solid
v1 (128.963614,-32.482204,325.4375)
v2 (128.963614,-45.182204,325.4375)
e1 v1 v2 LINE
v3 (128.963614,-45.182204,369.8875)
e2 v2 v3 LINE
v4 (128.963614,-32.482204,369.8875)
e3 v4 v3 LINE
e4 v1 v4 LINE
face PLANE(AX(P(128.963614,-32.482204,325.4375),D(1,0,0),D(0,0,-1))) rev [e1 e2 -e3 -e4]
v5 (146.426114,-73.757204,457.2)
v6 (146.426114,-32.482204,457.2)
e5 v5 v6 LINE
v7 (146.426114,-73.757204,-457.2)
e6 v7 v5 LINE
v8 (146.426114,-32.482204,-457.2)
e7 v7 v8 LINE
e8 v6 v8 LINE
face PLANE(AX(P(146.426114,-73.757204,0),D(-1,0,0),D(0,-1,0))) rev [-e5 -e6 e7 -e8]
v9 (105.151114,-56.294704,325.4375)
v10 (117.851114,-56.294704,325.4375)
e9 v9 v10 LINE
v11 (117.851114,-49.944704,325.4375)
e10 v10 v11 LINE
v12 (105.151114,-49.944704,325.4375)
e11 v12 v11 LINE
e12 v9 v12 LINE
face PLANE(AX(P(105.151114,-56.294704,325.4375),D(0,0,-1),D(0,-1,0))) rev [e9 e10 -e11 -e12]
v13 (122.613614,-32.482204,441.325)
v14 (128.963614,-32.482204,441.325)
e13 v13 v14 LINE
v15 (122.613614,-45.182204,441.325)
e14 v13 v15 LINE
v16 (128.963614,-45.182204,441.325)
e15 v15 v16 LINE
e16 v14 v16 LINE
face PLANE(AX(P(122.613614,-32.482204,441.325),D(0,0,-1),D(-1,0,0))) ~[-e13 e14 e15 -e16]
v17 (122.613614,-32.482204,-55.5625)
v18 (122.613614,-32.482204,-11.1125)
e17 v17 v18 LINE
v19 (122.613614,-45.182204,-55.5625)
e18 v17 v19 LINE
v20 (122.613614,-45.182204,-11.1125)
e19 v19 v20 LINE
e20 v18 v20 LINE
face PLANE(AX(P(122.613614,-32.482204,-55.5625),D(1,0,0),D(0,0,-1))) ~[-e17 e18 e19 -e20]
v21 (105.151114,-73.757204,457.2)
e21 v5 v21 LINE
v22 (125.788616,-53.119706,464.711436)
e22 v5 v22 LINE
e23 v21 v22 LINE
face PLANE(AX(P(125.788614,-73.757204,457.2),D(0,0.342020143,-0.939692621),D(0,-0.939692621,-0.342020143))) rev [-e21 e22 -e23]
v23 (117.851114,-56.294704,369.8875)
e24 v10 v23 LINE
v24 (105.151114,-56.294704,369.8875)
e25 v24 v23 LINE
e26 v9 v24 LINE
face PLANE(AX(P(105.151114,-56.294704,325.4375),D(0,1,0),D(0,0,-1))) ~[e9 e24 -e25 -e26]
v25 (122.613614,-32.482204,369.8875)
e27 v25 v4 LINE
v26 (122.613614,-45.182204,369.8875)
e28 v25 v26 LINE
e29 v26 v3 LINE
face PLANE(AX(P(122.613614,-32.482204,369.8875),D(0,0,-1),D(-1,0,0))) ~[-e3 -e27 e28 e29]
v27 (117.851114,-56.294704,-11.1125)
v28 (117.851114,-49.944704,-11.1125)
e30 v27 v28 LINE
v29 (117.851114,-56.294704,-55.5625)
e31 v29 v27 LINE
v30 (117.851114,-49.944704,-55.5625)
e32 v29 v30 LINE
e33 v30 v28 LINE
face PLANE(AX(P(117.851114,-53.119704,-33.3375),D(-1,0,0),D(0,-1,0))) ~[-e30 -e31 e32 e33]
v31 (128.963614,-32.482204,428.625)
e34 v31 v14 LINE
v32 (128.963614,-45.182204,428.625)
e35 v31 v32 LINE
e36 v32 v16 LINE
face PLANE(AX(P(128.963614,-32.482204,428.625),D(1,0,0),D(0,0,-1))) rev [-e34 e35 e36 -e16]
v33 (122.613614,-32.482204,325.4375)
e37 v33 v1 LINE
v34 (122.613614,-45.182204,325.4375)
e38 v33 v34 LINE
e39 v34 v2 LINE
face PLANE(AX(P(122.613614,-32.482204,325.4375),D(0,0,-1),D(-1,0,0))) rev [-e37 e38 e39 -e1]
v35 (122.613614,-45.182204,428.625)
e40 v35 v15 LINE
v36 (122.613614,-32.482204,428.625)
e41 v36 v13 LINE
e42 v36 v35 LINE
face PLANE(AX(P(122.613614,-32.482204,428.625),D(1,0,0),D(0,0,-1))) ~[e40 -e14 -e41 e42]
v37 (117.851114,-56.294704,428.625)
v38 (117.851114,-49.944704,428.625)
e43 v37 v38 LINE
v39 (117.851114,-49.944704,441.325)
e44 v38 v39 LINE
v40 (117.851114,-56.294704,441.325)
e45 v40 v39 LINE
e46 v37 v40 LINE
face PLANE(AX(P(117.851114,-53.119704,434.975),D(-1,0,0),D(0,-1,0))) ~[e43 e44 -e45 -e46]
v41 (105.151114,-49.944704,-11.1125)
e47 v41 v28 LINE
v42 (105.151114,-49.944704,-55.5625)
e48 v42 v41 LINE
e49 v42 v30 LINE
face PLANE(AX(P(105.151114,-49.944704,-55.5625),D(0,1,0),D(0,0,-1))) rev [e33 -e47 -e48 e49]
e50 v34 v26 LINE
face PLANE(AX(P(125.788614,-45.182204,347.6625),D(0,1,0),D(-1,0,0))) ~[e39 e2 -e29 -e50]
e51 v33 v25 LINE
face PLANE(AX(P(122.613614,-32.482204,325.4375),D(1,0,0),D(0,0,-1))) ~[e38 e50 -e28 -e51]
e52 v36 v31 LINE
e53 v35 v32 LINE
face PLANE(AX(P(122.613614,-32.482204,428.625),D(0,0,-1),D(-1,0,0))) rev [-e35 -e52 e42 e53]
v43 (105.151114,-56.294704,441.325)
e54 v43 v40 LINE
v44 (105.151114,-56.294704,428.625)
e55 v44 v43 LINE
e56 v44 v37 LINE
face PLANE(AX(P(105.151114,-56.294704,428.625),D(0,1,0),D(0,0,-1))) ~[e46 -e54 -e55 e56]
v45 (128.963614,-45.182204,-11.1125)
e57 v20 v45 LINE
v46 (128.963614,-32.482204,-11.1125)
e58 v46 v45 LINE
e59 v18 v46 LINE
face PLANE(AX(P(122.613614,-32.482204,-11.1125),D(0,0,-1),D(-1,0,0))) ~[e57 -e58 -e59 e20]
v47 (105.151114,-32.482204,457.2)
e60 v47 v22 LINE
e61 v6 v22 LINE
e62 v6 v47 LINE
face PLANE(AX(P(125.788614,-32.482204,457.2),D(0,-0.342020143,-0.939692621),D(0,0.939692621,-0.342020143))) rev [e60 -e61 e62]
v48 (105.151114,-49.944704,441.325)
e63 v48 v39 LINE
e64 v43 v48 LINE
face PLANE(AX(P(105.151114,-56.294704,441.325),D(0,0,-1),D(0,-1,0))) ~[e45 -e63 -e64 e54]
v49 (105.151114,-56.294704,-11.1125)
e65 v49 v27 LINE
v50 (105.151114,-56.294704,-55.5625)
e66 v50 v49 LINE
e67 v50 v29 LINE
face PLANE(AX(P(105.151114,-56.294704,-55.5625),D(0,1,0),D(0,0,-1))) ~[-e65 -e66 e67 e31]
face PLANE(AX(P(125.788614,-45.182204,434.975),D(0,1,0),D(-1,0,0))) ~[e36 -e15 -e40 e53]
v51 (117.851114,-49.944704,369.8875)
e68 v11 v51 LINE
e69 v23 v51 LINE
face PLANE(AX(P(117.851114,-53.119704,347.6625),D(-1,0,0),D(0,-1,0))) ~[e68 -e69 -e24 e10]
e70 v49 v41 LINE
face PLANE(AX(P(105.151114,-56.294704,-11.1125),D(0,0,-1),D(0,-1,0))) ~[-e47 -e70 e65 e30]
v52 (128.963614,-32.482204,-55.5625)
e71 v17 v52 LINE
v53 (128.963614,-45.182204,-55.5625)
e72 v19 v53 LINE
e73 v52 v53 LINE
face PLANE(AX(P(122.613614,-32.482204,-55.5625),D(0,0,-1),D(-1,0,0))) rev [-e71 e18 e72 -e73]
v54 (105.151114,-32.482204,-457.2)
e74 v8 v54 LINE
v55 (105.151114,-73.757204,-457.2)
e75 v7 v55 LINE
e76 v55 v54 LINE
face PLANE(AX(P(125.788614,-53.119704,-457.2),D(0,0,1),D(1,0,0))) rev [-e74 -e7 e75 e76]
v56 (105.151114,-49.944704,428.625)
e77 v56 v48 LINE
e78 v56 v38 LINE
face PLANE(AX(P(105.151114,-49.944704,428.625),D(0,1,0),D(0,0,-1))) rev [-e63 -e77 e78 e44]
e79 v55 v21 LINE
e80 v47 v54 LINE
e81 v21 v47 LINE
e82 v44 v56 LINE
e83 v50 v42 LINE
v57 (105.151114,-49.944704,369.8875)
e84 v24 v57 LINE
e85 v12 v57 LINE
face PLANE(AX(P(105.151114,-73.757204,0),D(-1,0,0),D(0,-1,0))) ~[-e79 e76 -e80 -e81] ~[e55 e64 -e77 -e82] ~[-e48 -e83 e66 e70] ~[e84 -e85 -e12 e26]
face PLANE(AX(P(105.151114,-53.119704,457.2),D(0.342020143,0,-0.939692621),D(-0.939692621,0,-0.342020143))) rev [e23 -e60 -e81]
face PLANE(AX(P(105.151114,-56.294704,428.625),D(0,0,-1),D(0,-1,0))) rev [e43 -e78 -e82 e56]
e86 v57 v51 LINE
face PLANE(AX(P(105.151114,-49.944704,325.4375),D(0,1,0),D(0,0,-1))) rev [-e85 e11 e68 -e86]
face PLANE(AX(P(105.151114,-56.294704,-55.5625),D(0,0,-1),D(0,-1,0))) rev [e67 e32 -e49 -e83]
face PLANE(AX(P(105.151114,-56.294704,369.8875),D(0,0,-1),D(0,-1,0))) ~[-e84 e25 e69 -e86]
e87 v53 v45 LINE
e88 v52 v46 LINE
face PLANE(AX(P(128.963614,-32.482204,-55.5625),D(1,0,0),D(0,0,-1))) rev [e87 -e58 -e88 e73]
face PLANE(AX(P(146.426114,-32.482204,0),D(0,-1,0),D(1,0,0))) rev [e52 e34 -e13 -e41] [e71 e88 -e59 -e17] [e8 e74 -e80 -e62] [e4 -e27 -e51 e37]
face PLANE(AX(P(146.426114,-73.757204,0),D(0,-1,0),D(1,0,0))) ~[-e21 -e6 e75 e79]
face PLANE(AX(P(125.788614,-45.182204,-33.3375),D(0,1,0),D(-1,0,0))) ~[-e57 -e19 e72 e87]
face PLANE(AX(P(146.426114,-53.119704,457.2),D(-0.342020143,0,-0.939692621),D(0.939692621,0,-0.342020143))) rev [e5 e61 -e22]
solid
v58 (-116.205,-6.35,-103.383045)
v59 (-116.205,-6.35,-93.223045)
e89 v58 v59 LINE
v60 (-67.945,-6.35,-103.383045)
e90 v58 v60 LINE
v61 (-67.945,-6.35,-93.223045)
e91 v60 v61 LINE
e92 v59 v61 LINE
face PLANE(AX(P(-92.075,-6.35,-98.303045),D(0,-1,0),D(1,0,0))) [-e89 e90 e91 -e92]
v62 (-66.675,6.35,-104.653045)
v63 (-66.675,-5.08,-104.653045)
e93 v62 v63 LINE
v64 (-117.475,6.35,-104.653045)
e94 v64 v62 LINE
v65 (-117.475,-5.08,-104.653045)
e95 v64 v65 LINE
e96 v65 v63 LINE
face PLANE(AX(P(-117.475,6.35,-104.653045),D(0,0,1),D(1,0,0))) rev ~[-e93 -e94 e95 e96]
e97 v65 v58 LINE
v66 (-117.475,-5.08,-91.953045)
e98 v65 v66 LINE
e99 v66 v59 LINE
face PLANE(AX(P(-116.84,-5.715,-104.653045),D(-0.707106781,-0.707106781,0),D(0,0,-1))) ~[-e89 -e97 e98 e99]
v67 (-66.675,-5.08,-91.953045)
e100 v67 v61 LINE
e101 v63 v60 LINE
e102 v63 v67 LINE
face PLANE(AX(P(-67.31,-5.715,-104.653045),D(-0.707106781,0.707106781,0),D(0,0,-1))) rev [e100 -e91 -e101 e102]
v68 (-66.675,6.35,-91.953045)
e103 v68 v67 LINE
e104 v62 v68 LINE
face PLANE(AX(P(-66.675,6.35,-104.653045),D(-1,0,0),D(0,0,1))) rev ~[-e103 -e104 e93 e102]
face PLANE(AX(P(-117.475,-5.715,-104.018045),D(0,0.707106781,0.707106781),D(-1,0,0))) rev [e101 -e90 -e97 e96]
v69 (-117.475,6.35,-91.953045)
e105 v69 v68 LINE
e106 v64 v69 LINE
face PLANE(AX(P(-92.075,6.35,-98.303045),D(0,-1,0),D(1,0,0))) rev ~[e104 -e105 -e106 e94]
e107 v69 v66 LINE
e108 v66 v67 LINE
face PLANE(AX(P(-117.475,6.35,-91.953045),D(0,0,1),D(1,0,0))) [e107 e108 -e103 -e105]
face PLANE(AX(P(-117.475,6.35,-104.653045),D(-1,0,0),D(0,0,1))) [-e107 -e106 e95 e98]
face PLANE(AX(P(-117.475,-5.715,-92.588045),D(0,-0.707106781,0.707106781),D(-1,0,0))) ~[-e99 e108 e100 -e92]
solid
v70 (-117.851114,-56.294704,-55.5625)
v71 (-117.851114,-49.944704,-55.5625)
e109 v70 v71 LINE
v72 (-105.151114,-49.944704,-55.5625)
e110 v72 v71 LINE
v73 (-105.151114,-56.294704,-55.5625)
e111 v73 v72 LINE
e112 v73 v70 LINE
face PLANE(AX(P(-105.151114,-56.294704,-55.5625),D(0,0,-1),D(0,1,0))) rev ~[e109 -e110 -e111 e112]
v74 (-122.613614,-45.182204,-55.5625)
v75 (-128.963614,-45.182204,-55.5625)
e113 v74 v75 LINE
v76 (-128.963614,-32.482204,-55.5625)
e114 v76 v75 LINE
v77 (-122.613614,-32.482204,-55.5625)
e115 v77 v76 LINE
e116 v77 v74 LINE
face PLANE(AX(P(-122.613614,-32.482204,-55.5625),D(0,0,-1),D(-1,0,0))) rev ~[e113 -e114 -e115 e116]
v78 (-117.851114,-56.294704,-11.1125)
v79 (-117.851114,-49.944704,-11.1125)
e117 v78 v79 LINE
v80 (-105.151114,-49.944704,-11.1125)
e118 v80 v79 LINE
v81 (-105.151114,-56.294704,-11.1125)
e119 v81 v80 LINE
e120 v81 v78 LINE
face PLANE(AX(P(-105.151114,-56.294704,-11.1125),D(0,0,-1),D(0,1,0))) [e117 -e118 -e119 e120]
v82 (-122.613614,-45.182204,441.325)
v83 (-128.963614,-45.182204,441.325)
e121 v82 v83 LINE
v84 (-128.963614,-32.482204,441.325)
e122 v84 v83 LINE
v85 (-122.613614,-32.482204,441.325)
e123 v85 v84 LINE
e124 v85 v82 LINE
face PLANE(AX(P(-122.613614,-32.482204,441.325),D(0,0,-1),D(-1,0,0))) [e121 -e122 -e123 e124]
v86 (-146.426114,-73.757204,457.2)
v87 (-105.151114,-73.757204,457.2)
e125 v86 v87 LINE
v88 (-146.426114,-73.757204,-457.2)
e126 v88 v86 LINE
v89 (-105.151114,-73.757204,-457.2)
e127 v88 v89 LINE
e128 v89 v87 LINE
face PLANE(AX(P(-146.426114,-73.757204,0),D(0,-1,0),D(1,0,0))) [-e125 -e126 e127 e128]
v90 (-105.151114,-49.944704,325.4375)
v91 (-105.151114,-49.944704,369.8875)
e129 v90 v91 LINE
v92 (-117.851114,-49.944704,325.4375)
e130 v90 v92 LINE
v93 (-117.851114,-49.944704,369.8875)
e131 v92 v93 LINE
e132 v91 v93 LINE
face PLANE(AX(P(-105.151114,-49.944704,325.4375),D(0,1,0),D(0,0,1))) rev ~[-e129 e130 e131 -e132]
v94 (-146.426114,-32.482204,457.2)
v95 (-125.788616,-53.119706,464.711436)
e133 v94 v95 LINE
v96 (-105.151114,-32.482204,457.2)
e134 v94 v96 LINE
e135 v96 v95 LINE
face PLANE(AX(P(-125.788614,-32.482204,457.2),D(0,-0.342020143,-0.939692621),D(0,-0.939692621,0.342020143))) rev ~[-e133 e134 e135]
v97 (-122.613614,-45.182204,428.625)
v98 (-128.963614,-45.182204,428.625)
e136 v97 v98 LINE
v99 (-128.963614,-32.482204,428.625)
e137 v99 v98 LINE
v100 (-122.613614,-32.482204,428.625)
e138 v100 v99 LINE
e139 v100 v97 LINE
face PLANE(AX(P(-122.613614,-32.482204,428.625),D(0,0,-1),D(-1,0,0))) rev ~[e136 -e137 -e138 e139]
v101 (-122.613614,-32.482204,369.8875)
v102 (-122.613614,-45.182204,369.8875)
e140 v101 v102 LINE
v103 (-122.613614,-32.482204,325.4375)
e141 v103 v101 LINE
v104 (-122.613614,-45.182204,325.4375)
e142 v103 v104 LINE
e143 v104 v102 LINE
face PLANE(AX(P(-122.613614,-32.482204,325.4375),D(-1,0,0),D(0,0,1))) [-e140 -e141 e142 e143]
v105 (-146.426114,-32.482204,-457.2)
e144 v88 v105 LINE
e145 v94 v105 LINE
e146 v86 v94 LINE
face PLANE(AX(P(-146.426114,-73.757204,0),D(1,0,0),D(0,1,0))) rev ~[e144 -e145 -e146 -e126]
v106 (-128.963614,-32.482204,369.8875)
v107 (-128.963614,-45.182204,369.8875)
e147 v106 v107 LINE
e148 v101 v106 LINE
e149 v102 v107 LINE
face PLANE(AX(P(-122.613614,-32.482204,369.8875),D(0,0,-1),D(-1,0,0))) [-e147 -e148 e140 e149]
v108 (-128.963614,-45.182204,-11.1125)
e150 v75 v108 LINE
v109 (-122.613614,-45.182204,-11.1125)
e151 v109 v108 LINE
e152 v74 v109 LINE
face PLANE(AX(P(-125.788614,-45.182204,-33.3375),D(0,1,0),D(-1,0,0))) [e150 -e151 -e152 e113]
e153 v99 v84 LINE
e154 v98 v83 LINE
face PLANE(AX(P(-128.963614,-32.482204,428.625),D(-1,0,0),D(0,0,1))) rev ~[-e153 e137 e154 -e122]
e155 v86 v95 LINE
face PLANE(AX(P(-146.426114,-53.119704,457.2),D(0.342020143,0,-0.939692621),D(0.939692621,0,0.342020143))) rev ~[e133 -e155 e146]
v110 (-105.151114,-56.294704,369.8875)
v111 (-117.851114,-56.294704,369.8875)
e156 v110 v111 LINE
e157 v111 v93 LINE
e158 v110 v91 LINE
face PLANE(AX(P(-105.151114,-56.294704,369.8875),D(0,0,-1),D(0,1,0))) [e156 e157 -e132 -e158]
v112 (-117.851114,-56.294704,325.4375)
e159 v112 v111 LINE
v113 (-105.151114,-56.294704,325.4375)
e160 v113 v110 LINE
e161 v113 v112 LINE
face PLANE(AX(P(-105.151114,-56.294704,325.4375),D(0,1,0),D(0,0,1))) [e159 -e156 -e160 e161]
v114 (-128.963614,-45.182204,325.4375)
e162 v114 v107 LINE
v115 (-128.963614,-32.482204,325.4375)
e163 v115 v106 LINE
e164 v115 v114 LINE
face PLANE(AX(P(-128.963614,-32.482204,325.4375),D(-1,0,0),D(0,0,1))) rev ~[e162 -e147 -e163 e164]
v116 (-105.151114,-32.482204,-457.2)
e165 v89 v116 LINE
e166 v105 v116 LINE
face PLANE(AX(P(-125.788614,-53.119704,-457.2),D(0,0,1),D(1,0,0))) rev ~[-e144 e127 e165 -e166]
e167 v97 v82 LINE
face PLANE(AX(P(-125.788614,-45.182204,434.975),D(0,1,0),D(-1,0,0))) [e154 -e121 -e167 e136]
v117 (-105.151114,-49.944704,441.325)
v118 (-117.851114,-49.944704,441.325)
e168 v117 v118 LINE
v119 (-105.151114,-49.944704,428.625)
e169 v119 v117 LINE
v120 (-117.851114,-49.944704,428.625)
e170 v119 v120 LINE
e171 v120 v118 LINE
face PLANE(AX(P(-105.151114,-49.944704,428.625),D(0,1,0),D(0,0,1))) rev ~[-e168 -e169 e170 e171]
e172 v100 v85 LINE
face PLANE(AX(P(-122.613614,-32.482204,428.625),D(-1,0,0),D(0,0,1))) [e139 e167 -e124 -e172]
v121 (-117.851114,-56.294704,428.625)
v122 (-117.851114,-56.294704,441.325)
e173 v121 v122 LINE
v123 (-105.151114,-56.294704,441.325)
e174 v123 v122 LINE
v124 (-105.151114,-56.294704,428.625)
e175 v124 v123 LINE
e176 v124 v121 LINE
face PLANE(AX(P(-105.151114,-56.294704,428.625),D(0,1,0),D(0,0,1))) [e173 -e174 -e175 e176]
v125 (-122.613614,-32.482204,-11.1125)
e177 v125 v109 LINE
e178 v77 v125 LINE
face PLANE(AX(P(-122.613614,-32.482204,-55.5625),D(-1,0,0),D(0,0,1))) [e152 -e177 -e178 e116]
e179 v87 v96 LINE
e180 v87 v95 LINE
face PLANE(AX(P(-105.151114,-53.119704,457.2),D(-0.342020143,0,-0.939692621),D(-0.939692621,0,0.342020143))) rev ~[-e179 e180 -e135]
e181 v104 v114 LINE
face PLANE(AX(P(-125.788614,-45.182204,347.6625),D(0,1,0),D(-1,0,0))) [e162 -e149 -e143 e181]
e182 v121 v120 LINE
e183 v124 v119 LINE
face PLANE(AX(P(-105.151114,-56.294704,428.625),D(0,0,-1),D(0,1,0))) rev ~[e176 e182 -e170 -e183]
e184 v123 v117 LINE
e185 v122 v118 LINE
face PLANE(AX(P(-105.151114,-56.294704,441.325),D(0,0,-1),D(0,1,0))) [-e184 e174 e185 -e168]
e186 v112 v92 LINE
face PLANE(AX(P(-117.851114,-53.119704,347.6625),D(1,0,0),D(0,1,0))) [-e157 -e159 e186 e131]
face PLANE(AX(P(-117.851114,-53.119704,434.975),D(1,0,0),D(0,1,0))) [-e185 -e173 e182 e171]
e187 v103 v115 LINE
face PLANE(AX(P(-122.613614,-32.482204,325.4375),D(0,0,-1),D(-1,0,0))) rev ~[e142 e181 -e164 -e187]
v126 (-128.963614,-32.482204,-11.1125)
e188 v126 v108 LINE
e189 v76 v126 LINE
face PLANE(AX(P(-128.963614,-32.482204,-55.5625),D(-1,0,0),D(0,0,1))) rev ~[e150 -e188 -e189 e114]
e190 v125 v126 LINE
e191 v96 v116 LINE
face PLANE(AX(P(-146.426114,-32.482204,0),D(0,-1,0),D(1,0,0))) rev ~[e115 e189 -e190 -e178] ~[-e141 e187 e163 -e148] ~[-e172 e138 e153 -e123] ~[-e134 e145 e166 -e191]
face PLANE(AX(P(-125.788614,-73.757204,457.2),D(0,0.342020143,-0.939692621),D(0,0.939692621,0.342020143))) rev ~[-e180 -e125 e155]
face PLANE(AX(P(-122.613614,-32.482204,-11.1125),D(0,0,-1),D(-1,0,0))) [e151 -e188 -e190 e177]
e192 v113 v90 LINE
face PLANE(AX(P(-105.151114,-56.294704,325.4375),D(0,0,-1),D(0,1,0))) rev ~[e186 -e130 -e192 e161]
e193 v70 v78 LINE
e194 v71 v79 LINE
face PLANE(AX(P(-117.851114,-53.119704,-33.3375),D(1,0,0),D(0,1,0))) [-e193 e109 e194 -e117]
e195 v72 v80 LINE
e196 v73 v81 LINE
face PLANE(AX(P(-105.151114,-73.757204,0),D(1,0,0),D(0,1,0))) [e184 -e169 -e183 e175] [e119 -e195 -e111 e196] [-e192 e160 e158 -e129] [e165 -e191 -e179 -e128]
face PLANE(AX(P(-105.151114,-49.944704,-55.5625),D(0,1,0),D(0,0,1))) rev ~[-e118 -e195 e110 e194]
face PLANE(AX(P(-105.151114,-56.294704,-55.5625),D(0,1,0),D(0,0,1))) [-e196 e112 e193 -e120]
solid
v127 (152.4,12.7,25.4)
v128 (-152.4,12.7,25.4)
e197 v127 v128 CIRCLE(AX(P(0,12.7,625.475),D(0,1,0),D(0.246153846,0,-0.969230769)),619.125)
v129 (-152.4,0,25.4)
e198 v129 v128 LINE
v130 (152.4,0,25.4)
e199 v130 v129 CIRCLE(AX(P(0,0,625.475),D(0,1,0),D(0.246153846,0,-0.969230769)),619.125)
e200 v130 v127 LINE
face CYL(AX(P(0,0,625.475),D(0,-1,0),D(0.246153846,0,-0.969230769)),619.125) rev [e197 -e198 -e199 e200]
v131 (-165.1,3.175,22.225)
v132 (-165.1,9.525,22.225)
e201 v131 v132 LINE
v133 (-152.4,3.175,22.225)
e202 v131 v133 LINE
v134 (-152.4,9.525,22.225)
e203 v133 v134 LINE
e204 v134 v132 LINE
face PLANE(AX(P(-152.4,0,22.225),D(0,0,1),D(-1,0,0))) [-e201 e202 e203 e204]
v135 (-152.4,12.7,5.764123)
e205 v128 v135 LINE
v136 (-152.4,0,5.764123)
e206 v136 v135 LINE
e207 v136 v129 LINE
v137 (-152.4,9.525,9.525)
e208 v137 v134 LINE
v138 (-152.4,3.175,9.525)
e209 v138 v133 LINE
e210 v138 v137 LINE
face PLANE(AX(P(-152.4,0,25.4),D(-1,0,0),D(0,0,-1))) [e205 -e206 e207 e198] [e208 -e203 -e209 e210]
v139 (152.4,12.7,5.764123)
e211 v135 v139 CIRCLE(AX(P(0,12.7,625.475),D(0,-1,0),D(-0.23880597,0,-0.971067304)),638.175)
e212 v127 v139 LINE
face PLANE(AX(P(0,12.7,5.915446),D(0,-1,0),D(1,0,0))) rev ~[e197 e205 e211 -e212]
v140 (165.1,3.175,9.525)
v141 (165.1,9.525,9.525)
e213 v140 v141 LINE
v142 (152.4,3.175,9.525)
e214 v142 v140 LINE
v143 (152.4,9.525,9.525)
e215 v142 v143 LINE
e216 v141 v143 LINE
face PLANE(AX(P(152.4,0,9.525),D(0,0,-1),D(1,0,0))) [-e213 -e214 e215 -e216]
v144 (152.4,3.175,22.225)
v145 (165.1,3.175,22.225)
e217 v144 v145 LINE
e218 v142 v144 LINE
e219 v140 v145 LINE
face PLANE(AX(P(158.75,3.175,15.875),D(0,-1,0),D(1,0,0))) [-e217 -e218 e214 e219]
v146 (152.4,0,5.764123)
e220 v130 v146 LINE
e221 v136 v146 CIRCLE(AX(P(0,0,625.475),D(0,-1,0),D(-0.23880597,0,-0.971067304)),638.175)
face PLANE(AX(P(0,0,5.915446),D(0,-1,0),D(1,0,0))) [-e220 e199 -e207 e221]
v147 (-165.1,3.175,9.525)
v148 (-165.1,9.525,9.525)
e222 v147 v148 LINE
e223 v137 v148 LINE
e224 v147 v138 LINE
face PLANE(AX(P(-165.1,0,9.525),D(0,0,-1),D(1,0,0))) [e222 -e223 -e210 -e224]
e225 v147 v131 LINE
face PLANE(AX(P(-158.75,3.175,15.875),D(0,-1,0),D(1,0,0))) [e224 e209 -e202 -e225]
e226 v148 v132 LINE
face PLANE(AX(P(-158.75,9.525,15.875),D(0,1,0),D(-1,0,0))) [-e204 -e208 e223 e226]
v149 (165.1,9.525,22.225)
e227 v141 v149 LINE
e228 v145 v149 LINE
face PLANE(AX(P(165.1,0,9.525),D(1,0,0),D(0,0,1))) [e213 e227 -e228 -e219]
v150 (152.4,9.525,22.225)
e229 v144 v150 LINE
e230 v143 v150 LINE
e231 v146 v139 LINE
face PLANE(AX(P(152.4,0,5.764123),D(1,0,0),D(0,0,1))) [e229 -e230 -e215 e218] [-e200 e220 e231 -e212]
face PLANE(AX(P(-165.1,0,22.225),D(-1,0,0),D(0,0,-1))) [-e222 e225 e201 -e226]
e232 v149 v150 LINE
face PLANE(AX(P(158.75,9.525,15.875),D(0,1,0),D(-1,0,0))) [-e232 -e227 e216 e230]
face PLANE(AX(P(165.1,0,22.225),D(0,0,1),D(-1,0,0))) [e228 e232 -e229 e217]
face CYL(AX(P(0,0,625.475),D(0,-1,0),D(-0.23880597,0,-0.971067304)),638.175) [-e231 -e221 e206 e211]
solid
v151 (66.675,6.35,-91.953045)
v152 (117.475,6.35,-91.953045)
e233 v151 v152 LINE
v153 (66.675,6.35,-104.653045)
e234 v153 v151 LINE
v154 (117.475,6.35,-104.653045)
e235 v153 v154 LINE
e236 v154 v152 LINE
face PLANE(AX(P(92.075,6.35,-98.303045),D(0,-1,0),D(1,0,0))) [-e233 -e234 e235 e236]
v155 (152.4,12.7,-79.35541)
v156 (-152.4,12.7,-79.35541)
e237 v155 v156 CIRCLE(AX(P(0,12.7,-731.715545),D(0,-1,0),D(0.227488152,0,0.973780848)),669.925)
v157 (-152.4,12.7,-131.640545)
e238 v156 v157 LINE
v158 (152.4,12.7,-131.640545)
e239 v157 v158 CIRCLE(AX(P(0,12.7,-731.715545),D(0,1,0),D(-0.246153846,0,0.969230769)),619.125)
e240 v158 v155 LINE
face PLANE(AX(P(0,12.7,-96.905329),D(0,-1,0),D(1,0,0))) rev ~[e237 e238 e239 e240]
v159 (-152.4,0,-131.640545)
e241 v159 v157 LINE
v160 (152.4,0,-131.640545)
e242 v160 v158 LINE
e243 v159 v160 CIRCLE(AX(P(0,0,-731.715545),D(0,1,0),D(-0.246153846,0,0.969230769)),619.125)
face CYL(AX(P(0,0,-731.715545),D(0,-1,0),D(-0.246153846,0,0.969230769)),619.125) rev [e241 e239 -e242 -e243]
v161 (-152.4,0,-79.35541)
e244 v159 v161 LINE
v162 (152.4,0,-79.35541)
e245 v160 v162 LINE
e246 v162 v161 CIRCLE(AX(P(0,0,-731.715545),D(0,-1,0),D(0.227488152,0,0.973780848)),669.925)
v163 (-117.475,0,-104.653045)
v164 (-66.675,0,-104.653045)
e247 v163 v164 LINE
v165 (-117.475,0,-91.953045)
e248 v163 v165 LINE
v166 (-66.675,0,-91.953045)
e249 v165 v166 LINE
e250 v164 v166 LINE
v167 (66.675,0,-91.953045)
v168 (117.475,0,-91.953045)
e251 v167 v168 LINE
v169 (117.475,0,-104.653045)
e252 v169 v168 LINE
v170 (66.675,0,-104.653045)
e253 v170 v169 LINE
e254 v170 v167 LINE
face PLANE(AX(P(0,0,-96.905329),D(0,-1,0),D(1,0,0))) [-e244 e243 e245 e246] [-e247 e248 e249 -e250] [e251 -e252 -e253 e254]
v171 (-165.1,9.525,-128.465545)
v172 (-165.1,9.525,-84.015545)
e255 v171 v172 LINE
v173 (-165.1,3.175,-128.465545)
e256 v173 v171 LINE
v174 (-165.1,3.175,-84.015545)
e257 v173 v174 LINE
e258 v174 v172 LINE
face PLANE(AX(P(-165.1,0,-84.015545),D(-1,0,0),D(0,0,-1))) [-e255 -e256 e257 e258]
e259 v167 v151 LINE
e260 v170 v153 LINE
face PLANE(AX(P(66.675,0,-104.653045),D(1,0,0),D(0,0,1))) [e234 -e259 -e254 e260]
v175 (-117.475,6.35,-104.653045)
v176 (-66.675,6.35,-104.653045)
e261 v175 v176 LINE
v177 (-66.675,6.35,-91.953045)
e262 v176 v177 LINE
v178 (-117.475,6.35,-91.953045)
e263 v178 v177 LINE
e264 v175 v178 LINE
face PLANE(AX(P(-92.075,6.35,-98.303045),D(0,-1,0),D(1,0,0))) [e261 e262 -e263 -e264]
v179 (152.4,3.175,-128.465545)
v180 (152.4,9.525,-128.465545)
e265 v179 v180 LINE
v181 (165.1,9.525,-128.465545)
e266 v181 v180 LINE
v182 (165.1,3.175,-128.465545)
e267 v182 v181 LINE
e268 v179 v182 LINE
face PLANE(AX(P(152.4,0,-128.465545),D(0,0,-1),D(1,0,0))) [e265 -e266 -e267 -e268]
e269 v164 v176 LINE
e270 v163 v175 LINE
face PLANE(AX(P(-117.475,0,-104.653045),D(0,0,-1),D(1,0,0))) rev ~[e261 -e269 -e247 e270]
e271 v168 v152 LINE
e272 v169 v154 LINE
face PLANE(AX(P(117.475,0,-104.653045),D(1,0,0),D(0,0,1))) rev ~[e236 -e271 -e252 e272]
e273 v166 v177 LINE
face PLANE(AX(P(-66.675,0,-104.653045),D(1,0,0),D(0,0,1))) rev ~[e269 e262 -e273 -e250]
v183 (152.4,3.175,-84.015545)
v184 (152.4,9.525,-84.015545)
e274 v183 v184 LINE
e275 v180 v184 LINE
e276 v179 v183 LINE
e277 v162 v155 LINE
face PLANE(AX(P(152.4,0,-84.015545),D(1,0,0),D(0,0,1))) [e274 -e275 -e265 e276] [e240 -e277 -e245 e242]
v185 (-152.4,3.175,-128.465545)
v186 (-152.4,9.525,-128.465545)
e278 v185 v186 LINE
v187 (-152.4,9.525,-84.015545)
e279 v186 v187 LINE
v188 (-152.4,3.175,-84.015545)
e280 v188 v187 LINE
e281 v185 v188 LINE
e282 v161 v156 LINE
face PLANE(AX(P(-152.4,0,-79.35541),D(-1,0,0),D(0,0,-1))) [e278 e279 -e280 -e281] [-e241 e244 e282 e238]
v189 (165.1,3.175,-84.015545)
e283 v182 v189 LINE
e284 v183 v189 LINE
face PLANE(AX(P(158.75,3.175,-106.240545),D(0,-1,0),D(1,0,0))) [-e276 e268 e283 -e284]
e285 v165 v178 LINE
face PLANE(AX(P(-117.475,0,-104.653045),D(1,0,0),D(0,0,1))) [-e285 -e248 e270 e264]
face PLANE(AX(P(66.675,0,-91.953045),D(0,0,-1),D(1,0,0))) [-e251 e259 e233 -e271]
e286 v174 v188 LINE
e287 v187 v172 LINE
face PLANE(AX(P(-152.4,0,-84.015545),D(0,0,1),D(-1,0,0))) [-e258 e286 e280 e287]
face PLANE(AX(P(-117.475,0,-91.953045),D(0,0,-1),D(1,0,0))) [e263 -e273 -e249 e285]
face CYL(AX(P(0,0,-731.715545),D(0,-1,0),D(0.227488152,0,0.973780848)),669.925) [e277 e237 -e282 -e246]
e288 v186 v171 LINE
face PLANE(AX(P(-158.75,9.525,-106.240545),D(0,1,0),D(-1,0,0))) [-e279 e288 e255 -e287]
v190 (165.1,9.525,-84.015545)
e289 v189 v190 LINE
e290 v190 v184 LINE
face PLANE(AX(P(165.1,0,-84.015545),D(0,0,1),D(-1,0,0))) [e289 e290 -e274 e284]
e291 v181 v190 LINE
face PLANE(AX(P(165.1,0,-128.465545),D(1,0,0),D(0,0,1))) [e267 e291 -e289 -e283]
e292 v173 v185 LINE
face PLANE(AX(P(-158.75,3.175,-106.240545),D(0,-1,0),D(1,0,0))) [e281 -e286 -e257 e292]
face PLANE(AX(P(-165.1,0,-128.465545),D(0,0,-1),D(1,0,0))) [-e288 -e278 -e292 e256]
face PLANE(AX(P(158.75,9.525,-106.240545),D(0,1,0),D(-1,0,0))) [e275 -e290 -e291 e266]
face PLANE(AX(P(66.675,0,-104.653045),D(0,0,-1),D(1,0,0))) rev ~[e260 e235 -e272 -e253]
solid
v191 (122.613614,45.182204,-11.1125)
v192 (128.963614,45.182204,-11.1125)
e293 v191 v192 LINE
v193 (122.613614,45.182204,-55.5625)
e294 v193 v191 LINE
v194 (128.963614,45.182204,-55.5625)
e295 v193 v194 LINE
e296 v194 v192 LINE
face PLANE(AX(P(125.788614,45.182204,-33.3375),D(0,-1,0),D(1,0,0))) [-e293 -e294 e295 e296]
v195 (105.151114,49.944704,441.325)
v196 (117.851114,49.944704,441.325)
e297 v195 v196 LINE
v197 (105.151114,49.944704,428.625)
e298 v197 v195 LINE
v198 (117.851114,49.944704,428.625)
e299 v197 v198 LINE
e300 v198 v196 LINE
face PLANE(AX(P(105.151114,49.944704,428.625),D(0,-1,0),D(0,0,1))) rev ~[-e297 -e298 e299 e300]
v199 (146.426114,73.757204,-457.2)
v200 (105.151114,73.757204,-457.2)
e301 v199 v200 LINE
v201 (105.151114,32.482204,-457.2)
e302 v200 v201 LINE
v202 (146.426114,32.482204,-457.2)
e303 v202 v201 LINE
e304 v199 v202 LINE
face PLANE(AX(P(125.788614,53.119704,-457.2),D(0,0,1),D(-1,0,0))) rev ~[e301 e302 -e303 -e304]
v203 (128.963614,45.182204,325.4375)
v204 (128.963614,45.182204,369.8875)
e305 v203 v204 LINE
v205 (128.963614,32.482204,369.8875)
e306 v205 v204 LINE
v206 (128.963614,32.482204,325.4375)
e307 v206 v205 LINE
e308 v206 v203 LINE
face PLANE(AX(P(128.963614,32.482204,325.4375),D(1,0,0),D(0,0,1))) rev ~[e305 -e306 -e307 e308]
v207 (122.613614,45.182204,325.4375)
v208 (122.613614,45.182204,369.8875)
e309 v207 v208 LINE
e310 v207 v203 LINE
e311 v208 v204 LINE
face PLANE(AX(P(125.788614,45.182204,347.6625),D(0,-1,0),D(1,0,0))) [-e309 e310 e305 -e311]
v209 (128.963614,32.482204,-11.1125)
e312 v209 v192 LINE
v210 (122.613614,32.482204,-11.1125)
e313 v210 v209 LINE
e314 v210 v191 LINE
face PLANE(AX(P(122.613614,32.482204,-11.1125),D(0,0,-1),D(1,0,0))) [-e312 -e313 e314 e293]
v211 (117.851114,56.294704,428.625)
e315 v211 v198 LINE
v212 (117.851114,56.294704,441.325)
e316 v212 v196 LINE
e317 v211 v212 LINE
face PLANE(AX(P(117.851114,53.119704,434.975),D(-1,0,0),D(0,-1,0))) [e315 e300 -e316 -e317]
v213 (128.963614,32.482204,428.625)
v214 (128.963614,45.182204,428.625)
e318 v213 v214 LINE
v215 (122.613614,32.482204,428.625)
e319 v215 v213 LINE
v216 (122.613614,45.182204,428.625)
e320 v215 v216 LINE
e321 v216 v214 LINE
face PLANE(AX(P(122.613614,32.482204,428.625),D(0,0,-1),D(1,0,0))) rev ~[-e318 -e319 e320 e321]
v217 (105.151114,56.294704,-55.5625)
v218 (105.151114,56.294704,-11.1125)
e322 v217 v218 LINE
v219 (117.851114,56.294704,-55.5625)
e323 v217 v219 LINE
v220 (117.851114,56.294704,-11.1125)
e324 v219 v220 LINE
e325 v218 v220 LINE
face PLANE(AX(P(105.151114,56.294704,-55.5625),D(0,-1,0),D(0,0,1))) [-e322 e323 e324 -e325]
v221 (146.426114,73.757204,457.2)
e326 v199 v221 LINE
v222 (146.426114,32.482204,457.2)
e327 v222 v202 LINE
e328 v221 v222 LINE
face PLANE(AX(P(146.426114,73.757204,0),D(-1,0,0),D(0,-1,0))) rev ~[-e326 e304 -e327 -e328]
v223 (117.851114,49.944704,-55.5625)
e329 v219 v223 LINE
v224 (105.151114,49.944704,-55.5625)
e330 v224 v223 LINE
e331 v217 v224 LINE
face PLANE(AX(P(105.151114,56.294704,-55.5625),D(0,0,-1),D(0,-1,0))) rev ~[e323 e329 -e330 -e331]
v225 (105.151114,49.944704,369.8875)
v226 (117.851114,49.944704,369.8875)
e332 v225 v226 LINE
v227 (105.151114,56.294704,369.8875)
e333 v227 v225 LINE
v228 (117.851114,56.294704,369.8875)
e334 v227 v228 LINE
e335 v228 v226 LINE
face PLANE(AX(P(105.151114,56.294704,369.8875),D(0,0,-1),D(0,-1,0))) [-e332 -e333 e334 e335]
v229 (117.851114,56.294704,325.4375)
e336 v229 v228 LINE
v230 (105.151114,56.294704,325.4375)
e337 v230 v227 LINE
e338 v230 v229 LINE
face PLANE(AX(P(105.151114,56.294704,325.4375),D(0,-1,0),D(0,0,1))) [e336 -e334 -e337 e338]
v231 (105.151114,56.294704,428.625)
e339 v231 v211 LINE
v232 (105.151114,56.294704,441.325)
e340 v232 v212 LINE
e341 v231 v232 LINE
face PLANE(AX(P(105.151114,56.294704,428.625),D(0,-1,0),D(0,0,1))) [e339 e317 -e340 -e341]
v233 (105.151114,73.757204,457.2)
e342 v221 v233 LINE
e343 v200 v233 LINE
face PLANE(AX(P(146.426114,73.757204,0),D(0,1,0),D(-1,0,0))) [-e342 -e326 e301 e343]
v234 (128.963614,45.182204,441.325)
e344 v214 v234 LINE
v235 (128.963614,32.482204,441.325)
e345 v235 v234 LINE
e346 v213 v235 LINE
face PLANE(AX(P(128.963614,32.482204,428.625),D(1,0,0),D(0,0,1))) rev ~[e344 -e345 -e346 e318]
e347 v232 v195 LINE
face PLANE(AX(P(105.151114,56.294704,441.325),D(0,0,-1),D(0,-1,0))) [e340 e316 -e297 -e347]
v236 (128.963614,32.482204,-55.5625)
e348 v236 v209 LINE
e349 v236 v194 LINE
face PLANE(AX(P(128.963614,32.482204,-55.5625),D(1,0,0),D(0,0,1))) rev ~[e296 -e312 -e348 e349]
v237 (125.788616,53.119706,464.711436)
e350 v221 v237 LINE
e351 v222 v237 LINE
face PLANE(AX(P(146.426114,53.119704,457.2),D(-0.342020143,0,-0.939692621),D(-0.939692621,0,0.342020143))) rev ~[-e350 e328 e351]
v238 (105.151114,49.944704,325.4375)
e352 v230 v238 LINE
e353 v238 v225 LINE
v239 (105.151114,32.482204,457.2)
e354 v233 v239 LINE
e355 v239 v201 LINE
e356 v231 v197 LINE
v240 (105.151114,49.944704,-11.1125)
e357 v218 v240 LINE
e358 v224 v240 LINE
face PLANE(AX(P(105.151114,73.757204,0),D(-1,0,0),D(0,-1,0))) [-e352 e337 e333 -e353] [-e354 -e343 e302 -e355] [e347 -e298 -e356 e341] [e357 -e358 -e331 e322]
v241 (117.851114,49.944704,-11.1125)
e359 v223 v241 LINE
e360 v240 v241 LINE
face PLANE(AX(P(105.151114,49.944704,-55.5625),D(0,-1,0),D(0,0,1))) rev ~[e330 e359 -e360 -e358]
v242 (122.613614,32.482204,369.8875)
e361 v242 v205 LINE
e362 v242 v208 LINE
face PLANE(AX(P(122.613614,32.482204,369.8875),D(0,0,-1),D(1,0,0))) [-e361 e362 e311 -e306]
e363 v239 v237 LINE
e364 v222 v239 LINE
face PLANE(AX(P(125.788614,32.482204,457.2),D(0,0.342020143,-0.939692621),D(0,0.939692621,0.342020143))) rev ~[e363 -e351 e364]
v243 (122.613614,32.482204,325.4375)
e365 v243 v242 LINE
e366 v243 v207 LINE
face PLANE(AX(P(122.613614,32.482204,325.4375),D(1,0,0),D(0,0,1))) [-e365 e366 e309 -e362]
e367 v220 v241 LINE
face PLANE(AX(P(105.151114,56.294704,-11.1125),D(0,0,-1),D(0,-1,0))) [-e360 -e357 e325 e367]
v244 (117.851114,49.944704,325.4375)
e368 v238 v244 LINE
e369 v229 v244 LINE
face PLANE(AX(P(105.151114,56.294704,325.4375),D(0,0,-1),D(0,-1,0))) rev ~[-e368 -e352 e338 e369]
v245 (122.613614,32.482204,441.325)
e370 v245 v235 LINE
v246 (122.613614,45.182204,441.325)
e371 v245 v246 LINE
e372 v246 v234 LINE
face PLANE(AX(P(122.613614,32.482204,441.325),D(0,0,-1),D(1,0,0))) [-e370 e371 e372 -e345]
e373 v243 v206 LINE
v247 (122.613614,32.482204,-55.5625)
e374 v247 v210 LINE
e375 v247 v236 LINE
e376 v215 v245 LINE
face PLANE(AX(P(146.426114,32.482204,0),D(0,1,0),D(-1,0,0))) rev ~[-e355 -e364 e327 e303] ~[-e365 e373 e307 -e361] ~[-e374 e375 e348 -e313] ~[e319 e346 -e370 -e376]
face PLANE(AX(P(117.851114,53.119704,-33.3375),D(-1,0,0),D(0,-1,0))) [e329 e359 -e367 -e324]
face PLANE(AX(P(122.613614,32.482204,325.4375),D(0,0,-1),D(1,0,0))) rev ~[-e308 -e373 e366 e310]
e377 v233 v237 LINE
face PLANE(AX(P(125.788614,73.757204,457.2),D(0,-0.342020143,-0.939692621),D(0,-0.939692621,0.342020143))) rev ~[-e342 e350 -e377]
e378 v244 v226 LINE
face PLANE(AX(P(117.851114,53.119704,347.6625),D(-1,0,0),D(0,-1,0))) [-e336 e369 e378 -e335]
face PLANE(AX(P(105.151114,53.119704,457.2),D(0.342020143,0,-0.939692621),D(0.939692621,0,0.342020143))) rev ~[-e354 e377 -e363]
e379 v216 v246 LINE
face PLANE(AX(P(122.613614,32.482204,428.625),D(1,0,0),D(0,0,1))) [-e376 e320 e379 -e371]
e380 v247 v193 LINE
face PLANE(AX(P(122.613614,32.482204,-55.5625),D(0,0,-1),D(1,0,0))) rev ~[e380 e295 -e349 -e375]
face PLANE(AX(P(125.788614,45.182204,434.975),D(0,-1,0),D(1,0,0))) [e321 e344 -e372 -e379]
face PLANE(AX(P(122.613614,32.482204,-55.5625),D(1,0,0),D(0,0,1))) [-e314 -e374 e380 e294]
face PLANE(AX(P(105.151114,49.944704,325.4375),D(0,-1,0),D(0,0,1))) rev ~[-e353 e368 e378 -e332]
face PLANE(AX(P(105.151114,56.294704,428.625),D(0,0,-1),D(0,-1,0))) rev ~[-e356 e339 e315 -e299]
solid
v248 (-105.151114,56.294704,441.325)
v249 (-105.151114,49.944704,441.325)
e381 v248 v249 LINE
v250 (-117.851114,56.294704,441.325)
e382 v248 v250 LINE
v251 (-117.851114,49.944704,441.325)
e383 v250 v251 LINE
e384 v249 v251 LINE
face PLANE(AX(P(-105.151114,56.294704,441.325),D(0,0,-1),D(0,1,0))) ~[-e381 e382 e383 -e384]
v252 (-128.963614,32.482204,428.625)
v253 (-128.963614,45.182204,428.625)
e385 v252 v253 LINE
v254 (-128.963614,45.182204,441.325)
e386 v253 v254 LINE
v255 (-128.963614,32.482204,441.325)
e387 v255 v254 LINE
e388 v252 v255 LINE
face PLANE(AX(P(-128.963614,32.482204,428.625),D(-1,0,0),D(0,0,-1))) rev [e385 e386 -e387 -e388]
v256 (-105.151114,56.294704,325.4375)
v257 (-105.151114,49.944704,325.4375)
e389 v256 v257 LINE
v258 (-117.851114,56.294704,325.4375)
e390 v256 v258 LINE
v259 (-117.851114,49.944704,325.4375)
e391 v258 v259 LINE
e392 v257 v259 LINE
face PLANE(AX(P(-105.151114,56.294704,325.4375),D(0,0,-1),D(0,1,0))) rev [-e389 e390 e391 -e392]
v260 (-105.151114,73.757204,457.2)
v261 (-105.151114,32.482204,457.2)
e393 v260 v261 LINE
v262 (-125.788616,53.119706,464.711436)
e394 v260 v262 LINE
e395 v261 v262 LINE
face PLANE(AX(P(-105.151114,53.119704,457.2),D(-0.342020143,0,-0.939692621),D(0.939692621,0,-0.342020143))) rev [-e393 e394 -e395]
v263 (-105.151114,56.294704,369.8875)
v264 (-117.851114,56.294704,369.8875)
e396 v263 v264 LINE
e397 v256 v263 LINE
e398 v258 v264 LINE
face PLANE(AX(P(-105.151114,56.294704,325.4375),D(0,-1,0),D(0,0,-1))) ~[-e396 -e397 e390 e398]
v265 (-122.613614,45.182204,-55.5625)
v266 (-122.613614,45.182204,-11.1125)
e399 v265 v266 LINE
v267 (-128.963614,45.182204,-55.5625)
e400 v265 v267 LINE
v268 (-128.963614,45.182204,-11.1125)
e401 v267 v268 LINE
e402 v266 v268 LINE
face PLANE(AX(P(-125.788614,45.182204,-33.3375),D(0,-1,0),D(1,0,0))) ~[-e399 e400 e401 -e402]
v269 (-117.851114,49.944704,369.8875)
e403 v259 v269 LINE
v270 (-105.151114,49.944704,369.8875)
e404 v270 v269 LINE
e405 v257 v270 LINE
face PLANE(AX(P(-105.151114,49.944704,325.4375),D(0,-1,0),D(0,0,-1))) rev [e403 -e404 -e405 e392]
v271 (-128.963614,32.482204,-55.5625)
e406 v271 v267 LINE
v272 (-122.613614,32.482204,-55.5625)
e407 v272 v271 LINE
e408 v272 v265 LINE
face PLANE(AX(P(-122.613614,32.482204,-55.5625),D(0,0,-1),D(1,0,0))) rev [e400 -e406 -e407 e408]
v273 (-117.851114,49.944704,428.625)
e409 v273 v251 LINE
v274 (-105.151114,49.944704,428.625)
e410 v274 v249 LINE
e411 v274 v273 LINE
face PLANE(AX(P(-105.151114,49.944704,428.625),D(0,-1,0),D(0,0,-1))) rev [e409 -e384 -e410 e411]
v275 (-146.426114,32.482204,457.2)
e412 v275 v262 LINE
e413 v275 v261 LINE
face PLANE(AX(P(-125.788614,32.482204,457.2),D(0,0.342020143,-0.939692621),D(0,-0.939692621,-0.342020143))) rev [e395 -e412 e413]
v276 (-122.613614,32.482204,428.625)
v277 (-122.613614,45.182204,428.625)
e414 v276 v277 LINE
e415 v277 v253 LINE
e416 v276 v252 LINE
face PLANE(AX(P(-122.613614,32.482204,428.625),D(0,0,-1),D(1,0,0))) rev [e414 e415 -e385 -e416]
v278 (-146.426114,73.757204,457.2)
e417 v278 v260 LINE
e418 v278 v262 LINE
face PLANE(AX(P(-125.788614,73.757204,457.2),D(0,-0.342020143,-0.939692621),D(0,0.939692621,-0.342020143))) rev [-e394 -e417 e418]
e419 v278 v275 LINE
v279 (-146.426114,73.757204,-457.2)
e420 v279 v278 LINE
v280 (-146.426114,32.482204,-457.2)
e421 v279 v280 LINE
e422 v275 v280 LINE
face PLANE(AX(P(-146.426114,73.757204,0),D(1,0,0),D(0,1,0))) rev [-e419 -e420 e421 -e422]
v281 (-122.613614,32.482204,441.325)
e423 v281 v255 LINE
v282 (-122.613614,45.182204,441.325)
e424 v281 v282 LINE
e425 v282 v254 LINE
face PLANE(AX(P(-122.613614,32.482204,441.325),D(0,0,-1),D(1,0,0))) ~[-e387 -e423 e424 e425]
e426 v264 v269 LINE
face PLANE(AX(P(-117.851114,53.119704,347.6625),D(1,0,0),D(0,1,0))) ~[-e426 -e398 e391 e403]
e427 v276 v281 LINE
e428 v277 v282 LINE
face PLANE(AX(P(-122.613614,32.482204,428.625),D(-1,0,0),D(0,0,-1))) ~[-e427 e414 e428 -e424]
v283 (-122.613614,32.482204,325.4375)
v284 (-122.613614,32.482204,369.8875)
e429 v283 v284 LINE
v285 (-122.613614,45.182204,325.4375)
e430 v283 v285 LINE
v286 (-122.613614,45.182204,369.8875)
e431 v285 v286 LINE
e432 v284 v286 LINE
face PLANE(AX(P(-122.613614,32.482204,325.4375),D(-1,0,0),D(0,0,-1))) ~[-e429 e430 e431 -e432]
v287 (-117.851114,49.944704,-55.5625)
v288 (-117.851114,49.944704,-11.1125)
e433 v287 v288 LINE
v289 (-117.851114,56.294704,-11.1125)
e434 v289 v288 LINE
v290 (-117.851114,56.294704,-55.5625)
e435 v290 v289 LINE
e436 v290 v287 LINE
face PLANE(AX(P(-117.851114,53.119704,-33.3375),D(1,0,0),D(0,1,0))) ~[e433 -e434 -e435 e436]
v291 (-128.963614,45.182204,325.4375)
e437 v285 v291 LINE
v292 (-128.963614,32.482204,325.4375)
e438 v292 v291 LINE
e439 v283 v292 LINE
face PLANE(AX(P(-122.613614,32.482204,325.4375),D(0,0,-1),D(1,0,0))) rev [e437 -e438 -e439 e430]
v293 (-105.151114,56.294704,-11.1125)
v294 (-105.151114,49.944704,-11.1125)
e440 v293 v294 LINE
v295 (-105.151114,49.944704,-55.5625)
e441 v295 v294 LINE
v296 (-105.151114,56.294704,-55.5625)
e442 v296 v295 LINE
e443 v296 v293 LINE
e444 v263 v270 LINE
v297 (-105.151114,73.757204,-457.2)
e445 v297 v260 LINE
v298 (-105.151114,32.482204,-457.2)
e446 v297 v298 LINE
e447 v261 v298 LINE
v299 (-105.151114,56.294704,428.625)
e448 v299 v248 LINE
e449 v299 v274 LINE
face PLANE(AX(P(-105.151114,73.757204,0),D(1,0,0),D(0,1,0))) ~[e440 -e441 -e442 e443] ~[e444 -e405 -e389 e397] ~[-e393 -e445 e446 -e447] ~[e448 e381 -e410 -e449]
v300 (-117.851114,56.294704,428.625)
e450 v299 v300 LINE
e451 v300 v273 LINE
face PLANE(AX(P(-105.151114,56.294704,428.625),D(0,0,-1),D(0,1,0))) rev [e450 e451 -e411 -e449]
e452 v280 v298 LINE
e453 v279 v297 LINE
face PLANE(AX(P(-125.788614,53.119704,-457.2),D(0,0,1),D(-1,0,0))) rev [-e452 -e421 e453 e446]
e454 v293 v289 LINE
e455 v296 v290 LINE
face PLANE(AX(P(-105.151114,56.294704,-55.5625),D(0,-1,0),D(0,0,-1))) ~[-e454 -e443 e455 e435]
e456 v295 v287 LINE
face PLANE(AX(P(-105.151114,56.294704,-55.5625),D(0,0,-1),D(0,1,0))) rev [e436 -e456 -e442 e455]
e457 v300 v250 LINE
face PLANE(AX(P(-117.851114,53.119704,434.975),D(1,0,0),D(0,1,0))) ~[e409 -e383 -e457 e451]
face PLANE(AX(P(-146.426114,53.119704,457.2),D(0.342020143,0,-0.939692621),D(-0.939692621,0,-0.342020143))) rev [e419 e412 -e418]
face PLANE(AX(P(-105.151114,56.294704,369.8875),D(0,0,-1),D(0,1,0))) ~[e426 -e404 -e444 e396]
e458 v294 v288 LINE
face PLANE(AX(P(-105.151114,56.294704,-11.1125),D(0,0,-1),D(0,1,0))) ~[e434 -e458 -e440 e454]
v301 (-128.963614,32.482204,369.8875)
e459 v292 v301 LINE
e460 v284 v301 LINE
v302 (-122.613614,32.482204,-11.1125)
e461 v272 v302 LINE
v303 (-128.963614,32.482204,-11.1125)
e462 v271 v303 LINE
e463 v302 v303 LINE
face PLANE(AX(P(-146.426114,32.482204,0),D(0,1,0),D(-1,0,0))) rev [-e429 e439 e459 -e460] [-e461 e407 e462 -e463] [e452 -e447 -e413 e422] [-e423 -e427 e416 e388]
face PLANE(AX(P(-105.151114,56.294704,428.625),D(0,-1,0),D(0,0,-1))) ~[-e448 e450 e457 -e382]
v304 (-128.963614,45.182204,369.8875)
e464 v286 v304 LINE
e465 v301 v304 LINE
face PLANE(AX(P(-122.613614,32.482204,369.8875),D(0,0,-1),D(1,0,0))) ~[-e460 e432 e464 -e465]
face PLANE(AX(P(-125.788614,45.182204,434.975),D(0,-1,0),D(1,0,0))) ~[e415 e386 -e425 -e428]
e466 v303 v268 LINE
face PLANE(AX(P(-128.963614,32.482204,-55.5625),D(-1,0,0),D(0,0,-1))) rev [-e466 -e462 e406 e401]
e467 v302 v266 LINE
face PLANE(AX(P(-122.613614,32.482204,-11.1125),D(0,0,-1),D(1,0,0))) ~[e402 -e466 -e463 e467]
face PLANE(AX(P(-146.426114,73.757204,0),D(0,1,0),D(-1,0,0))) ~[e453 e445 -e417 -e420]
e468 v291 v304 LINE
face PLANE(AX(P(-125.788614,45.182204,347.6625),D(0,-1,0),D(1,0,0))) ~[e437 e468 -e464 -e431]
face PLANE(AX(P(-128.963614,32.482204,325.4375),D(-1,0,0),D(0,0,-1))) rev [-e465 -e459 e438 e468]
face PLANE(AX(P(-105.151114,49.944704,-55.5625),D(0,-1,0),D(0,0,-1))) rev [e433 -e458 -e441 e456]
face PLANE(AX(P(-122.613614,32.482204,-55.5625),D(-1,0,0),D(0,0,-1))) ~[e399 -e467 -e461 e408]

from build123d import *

# Parameters (mm, degrees)
F1_DEPTH   = 12.7
F3_DEPTH   = 12.7
F4_W       = 50.8
F4_H       = 12.7
F5_DEPTH   = 6.35
F6_W       = 41.275
F6_H       = 41.275
F7_DEPTH   = 457.2
F7_FACE1_W = 41.275
F7_FACE1_H = 41.275
F9_DEPTH   = 7.9375
F9_TAPER   = 70
F10_W      = 6.35
F10_H      = 12.7
F10_H_2    = 44.45
F12_DEPTH  = 12.7
F11_W      = 12.7
F11_H      = 12.7
F13_DEPTH  = 3.175
F14_W      = 12.7
F14_H      = 12.7
F15_DEPTH  = 3.175
F16_W      = 12.7
F16_H      = 44.45
F17_DEPTH  = 3.175
F18_W      = 12.7
F18_H      = 44.45
F19_DEPTH  = 3.175
F8_W       = 6.35
F8_H       = 12.7
F8_H_2     = 44.45
F20_DEPTH  = 12.7
F23_W      = 50.8
F23_H      = 12.7
F24_DEPTH  = 12.7
F25_SIZE   = 1.27
F26_SIZE   = 2.54


with BuildPart() as f1:
    # F0 (on Front) → F1 (new body)
    with BuildSketch(Plane.XZ):
        with BuildLine():
            Line((-152.4, 22.225), (-165.1, 22.225))
            Line((-165.1, 22.225), (-165.1, 9.525))
            Line((-165.1, 9.525), (-152.4, 9.525))
            Line((-152.4, 9.525), (-152.4, 5.7641233607))
            ThreePointArc((-152.4, 5.7641233607), (0, -12.7), (152.4, 5.7641233607))
            Line((152.4, 5.7641233607), (152.4, 9.525))
            Line((152.4, 9.525), (165.1, 9.525))
            Line((165.1, 9.525), (165.1, 22.225))
            Line((165.1, 22.225), (152.4, 22.225))
            Line((152.4, 22.225), (152.4, 25.4))
            ThreePointArc((152.4, 25.4), (0, 6.35), (-152.4, 25.4))
            Line((-152.4, 25.4), (-152.4, 22.225))
        make_face()
    extrude(amount=-F1_DEPTH)

    # F11 (on face) → F13 (cut)
    with BuildSketch(Plane.XZ):
        with Locations((-158.75, 15.875)):
            Rectangle(F11_W, F11_H)
        with Locations((158.75, 15.875)):
            Rectangle(F11_W, F11_H)
    extrude(amount=-F13_DEPTH, mode=Mode.SUBTRACT)

    # F14 (on face) → F15 (cut)
    with BuildSketch(Plane(origin=(0, 12.7, 0), x_dir=(-1, 0, 0), z_dir=(0, 1, 0))):
        with Locations((-158.75, 15.875)):
            Rectangle(F14_W, F14_H)
        with Locations((158.75, 15.875)):
            Rectangle(F14_W, F14_H)
    extrude(amount=-F15_DEPTH, mode=Mode.SUBTRACT)


with BuildPart() as f3:
    # F2 (on Front) → F3 (new body)
    with BuildSketch(Plane.XZ):
        with BuildLine():
            Line((-152.4, -84.0155451241), (-165.1, -84.0155451241))
            Line((-165.1, -84.0155451241), (-165.1, -128.4655451241))
            Line((-165.1, -128.4655451241), (-152.4, -128.4655451241))
            Line((-152.4, -128.4655451241), (-152.4, -131.6405451241))
            ThreePointArc((-152.4, -131.6405451241), (0, -112.5905451241), (152.4, -131.6405451241))
            Line((152.4, -131.6405451241), (152.4, -128.4655451241))
            Line((152.4, -128.4655451241), (165.1, -128.4655451241))
            Line((165.1, -128.4655451241), (165.1, -84.0155451241))
            Line((165.1, -84.0155451241), (152.4, -84.0155451241))
            Line((152.4, -84.0155451241), (152.4, -79.3554102101))
            ThreePointArc((152.4, -79.3554102101), (0, -61.7905451241), (-152.4, -79.3554102101))
            Line((-152.4, -79.3554102101), (-152.4, -84.0155451241))
        make_face()
    extrude(amount=-F3_DEPTH)

    # F4 (on face) → F5 (cut)
    with BuildSketch(Plane.XZ):
        with Locations((-92.075, -98.3030451241)):
            Rectangle(F4_W, F4_H)
        with Locations((92.075, -98.3030451241)):
            Rectangle(F4_W, F4_H)
    extrude(amount=-F5_DEPTH, mode=Mode.SUBTRACT)

    # F16 (on face) → F17 (cut)
    with BuildSketch(Plane(origin=(0, 12.7, 0), x_dir=(-1, 0, 0), z_dir=(0, 1, 0))):
        with Locations((-158.75, -106.2405451241)):
            Rectangle(F16_W, F16_H)
        with Locations((158.75, -106.2405451241)):
            Rectangle(F16_W, F16_H)
    extrude(amount=-F17_DEPTH, mode=Mode.SUBTRACT)

    # F18 (on face) → F19 (cut)
    with BuildSketch(Plane.XZ):
        with Locations((-158.75, -106.2405451241)):
            Rectangle(F18_W, F18_H)
        with Locations((158.75, -106.2405451241)):
            Rectangle(F18_W, F18_H)
    extrude(amount=-F19_DEPTH, mode=Mode.SUBTRACT)


with BuildPart() as f7:
    # F6 (on Top) → F7 (new body, symmetric)
    with BuildSketch(Plane.XY):
        with Locations((-125.7886141539, -53.1197041273)):
            Rectangle(F6_W, F6_H)
    extrude(amount=F7_DEPTH, both=True)

    # F7_face1 (on face) → F9 (join)
    with BuildSketch(Plane(origin=(-125.7886141539, -53.1197041273, 457.2), x_dir=(1, 0, 0), z_dir=(0, 0, 1))):
        Rectangle(F7_FACE1_W, F7_FACE1_H)
    extrude(amount=F9_DEPTH, taper=F9_TAPER)

    # F10 (on face) → F12 (cut)
    with BuildSketch(Plane(origin=(0, -32.4822041273, 0), x_dir=(-1, 0, 0), z_dir=(0, 1, 0))):
        with Locations((125.7886141539, 434.975)):
            Rectangle(F10_W, F10_H)
        with Locations((125.7886141539, 347.6625)):
            Rectangle(F10_W, F10_H_2)
        with Locations((125.7886141539, -33.3375)):
            Rectangle(F10_W, F10_H_2)
    extrude(amount=-F12_DEPTH, mode=Mode.SUBTRACT)

    # F8 (on face) → F20 (cut)
    with BuildSketch(Plane.YZ.offset(-105.1511141539)):
        with Locations((-53.1197041273, 434.975)):
            Rectangle(F8_W, F8_H)
        with Locations((-53.1197041273, 347.6625)):
            Rectangle(F8_W, F8_H_2)
        with Locations((-53.1197041273, -33.3375)):
            Rectangle(F8_W, F8_H_2)
    extrude(amount=-F20_DEPTH, mode=Mode.SUBTRACT)


with BuildPart() as f21_1:
    # F21: instance of F7
    add(f7.part.mirror(Plane.YZ))


with BuildPart() as f22_1:
    # F22: instance of F21_1
    add(f21_1.part.mirror(Plane.XZ))


with BuildPart() as f22_2:
    # F22: instance of F7
    add(f7.part.mirror(Plane.XZ))


with BuildPart() as f24:
    # F23 (on face) → F24 (new body)
    with BuildSketch(Plane.XZ.offset(-6.35)):
        with Locations((-92.075, -98.3030451241)):
            Rectangle(F23_W, F23_H)
    extrude(amount=F24_DEPTH)

    # F25
    f25_edges = [f24.edges().sort_by_distance(p)[0] for p in [
        (-92.075, -6.35, -91.953045),
        (-117.475, -6.35, -98.303045),
        (-92.075, -6.35, -104.653045),
        (-66.675, -6.35, -98.303045),
    ]]
    chamfer(f25_edges, length=F25_SIZE)


with BuildPart() as f24b:
    # F23 (on face) → F24, piece 2 (new body)
    with BuildSketch(Plane.XZ.offset(-6.35)):
        with Locations((92.075, -98.3030451241)):
            Rectangle(F23_W, F23_H)
    extrude(amount=F24_DEPTH)

    # F26
    f26_edges = [f24b.edges().sort_by_distance(p)[0] for p in [
        (92.075, -6.35, -91.953045),
        (66.675, -6.35, -98.303045),
        (92.075, -6.35, -104.653045),
        (117.475, -6.35, -98.303045),
    ]]
    chamfer(f26_edges, length=F26_SIZE)


solid = Compound([f1.part, f3.part, f7.part, f21_1.part, f22_1.part, f22_2.part, f24.part])
